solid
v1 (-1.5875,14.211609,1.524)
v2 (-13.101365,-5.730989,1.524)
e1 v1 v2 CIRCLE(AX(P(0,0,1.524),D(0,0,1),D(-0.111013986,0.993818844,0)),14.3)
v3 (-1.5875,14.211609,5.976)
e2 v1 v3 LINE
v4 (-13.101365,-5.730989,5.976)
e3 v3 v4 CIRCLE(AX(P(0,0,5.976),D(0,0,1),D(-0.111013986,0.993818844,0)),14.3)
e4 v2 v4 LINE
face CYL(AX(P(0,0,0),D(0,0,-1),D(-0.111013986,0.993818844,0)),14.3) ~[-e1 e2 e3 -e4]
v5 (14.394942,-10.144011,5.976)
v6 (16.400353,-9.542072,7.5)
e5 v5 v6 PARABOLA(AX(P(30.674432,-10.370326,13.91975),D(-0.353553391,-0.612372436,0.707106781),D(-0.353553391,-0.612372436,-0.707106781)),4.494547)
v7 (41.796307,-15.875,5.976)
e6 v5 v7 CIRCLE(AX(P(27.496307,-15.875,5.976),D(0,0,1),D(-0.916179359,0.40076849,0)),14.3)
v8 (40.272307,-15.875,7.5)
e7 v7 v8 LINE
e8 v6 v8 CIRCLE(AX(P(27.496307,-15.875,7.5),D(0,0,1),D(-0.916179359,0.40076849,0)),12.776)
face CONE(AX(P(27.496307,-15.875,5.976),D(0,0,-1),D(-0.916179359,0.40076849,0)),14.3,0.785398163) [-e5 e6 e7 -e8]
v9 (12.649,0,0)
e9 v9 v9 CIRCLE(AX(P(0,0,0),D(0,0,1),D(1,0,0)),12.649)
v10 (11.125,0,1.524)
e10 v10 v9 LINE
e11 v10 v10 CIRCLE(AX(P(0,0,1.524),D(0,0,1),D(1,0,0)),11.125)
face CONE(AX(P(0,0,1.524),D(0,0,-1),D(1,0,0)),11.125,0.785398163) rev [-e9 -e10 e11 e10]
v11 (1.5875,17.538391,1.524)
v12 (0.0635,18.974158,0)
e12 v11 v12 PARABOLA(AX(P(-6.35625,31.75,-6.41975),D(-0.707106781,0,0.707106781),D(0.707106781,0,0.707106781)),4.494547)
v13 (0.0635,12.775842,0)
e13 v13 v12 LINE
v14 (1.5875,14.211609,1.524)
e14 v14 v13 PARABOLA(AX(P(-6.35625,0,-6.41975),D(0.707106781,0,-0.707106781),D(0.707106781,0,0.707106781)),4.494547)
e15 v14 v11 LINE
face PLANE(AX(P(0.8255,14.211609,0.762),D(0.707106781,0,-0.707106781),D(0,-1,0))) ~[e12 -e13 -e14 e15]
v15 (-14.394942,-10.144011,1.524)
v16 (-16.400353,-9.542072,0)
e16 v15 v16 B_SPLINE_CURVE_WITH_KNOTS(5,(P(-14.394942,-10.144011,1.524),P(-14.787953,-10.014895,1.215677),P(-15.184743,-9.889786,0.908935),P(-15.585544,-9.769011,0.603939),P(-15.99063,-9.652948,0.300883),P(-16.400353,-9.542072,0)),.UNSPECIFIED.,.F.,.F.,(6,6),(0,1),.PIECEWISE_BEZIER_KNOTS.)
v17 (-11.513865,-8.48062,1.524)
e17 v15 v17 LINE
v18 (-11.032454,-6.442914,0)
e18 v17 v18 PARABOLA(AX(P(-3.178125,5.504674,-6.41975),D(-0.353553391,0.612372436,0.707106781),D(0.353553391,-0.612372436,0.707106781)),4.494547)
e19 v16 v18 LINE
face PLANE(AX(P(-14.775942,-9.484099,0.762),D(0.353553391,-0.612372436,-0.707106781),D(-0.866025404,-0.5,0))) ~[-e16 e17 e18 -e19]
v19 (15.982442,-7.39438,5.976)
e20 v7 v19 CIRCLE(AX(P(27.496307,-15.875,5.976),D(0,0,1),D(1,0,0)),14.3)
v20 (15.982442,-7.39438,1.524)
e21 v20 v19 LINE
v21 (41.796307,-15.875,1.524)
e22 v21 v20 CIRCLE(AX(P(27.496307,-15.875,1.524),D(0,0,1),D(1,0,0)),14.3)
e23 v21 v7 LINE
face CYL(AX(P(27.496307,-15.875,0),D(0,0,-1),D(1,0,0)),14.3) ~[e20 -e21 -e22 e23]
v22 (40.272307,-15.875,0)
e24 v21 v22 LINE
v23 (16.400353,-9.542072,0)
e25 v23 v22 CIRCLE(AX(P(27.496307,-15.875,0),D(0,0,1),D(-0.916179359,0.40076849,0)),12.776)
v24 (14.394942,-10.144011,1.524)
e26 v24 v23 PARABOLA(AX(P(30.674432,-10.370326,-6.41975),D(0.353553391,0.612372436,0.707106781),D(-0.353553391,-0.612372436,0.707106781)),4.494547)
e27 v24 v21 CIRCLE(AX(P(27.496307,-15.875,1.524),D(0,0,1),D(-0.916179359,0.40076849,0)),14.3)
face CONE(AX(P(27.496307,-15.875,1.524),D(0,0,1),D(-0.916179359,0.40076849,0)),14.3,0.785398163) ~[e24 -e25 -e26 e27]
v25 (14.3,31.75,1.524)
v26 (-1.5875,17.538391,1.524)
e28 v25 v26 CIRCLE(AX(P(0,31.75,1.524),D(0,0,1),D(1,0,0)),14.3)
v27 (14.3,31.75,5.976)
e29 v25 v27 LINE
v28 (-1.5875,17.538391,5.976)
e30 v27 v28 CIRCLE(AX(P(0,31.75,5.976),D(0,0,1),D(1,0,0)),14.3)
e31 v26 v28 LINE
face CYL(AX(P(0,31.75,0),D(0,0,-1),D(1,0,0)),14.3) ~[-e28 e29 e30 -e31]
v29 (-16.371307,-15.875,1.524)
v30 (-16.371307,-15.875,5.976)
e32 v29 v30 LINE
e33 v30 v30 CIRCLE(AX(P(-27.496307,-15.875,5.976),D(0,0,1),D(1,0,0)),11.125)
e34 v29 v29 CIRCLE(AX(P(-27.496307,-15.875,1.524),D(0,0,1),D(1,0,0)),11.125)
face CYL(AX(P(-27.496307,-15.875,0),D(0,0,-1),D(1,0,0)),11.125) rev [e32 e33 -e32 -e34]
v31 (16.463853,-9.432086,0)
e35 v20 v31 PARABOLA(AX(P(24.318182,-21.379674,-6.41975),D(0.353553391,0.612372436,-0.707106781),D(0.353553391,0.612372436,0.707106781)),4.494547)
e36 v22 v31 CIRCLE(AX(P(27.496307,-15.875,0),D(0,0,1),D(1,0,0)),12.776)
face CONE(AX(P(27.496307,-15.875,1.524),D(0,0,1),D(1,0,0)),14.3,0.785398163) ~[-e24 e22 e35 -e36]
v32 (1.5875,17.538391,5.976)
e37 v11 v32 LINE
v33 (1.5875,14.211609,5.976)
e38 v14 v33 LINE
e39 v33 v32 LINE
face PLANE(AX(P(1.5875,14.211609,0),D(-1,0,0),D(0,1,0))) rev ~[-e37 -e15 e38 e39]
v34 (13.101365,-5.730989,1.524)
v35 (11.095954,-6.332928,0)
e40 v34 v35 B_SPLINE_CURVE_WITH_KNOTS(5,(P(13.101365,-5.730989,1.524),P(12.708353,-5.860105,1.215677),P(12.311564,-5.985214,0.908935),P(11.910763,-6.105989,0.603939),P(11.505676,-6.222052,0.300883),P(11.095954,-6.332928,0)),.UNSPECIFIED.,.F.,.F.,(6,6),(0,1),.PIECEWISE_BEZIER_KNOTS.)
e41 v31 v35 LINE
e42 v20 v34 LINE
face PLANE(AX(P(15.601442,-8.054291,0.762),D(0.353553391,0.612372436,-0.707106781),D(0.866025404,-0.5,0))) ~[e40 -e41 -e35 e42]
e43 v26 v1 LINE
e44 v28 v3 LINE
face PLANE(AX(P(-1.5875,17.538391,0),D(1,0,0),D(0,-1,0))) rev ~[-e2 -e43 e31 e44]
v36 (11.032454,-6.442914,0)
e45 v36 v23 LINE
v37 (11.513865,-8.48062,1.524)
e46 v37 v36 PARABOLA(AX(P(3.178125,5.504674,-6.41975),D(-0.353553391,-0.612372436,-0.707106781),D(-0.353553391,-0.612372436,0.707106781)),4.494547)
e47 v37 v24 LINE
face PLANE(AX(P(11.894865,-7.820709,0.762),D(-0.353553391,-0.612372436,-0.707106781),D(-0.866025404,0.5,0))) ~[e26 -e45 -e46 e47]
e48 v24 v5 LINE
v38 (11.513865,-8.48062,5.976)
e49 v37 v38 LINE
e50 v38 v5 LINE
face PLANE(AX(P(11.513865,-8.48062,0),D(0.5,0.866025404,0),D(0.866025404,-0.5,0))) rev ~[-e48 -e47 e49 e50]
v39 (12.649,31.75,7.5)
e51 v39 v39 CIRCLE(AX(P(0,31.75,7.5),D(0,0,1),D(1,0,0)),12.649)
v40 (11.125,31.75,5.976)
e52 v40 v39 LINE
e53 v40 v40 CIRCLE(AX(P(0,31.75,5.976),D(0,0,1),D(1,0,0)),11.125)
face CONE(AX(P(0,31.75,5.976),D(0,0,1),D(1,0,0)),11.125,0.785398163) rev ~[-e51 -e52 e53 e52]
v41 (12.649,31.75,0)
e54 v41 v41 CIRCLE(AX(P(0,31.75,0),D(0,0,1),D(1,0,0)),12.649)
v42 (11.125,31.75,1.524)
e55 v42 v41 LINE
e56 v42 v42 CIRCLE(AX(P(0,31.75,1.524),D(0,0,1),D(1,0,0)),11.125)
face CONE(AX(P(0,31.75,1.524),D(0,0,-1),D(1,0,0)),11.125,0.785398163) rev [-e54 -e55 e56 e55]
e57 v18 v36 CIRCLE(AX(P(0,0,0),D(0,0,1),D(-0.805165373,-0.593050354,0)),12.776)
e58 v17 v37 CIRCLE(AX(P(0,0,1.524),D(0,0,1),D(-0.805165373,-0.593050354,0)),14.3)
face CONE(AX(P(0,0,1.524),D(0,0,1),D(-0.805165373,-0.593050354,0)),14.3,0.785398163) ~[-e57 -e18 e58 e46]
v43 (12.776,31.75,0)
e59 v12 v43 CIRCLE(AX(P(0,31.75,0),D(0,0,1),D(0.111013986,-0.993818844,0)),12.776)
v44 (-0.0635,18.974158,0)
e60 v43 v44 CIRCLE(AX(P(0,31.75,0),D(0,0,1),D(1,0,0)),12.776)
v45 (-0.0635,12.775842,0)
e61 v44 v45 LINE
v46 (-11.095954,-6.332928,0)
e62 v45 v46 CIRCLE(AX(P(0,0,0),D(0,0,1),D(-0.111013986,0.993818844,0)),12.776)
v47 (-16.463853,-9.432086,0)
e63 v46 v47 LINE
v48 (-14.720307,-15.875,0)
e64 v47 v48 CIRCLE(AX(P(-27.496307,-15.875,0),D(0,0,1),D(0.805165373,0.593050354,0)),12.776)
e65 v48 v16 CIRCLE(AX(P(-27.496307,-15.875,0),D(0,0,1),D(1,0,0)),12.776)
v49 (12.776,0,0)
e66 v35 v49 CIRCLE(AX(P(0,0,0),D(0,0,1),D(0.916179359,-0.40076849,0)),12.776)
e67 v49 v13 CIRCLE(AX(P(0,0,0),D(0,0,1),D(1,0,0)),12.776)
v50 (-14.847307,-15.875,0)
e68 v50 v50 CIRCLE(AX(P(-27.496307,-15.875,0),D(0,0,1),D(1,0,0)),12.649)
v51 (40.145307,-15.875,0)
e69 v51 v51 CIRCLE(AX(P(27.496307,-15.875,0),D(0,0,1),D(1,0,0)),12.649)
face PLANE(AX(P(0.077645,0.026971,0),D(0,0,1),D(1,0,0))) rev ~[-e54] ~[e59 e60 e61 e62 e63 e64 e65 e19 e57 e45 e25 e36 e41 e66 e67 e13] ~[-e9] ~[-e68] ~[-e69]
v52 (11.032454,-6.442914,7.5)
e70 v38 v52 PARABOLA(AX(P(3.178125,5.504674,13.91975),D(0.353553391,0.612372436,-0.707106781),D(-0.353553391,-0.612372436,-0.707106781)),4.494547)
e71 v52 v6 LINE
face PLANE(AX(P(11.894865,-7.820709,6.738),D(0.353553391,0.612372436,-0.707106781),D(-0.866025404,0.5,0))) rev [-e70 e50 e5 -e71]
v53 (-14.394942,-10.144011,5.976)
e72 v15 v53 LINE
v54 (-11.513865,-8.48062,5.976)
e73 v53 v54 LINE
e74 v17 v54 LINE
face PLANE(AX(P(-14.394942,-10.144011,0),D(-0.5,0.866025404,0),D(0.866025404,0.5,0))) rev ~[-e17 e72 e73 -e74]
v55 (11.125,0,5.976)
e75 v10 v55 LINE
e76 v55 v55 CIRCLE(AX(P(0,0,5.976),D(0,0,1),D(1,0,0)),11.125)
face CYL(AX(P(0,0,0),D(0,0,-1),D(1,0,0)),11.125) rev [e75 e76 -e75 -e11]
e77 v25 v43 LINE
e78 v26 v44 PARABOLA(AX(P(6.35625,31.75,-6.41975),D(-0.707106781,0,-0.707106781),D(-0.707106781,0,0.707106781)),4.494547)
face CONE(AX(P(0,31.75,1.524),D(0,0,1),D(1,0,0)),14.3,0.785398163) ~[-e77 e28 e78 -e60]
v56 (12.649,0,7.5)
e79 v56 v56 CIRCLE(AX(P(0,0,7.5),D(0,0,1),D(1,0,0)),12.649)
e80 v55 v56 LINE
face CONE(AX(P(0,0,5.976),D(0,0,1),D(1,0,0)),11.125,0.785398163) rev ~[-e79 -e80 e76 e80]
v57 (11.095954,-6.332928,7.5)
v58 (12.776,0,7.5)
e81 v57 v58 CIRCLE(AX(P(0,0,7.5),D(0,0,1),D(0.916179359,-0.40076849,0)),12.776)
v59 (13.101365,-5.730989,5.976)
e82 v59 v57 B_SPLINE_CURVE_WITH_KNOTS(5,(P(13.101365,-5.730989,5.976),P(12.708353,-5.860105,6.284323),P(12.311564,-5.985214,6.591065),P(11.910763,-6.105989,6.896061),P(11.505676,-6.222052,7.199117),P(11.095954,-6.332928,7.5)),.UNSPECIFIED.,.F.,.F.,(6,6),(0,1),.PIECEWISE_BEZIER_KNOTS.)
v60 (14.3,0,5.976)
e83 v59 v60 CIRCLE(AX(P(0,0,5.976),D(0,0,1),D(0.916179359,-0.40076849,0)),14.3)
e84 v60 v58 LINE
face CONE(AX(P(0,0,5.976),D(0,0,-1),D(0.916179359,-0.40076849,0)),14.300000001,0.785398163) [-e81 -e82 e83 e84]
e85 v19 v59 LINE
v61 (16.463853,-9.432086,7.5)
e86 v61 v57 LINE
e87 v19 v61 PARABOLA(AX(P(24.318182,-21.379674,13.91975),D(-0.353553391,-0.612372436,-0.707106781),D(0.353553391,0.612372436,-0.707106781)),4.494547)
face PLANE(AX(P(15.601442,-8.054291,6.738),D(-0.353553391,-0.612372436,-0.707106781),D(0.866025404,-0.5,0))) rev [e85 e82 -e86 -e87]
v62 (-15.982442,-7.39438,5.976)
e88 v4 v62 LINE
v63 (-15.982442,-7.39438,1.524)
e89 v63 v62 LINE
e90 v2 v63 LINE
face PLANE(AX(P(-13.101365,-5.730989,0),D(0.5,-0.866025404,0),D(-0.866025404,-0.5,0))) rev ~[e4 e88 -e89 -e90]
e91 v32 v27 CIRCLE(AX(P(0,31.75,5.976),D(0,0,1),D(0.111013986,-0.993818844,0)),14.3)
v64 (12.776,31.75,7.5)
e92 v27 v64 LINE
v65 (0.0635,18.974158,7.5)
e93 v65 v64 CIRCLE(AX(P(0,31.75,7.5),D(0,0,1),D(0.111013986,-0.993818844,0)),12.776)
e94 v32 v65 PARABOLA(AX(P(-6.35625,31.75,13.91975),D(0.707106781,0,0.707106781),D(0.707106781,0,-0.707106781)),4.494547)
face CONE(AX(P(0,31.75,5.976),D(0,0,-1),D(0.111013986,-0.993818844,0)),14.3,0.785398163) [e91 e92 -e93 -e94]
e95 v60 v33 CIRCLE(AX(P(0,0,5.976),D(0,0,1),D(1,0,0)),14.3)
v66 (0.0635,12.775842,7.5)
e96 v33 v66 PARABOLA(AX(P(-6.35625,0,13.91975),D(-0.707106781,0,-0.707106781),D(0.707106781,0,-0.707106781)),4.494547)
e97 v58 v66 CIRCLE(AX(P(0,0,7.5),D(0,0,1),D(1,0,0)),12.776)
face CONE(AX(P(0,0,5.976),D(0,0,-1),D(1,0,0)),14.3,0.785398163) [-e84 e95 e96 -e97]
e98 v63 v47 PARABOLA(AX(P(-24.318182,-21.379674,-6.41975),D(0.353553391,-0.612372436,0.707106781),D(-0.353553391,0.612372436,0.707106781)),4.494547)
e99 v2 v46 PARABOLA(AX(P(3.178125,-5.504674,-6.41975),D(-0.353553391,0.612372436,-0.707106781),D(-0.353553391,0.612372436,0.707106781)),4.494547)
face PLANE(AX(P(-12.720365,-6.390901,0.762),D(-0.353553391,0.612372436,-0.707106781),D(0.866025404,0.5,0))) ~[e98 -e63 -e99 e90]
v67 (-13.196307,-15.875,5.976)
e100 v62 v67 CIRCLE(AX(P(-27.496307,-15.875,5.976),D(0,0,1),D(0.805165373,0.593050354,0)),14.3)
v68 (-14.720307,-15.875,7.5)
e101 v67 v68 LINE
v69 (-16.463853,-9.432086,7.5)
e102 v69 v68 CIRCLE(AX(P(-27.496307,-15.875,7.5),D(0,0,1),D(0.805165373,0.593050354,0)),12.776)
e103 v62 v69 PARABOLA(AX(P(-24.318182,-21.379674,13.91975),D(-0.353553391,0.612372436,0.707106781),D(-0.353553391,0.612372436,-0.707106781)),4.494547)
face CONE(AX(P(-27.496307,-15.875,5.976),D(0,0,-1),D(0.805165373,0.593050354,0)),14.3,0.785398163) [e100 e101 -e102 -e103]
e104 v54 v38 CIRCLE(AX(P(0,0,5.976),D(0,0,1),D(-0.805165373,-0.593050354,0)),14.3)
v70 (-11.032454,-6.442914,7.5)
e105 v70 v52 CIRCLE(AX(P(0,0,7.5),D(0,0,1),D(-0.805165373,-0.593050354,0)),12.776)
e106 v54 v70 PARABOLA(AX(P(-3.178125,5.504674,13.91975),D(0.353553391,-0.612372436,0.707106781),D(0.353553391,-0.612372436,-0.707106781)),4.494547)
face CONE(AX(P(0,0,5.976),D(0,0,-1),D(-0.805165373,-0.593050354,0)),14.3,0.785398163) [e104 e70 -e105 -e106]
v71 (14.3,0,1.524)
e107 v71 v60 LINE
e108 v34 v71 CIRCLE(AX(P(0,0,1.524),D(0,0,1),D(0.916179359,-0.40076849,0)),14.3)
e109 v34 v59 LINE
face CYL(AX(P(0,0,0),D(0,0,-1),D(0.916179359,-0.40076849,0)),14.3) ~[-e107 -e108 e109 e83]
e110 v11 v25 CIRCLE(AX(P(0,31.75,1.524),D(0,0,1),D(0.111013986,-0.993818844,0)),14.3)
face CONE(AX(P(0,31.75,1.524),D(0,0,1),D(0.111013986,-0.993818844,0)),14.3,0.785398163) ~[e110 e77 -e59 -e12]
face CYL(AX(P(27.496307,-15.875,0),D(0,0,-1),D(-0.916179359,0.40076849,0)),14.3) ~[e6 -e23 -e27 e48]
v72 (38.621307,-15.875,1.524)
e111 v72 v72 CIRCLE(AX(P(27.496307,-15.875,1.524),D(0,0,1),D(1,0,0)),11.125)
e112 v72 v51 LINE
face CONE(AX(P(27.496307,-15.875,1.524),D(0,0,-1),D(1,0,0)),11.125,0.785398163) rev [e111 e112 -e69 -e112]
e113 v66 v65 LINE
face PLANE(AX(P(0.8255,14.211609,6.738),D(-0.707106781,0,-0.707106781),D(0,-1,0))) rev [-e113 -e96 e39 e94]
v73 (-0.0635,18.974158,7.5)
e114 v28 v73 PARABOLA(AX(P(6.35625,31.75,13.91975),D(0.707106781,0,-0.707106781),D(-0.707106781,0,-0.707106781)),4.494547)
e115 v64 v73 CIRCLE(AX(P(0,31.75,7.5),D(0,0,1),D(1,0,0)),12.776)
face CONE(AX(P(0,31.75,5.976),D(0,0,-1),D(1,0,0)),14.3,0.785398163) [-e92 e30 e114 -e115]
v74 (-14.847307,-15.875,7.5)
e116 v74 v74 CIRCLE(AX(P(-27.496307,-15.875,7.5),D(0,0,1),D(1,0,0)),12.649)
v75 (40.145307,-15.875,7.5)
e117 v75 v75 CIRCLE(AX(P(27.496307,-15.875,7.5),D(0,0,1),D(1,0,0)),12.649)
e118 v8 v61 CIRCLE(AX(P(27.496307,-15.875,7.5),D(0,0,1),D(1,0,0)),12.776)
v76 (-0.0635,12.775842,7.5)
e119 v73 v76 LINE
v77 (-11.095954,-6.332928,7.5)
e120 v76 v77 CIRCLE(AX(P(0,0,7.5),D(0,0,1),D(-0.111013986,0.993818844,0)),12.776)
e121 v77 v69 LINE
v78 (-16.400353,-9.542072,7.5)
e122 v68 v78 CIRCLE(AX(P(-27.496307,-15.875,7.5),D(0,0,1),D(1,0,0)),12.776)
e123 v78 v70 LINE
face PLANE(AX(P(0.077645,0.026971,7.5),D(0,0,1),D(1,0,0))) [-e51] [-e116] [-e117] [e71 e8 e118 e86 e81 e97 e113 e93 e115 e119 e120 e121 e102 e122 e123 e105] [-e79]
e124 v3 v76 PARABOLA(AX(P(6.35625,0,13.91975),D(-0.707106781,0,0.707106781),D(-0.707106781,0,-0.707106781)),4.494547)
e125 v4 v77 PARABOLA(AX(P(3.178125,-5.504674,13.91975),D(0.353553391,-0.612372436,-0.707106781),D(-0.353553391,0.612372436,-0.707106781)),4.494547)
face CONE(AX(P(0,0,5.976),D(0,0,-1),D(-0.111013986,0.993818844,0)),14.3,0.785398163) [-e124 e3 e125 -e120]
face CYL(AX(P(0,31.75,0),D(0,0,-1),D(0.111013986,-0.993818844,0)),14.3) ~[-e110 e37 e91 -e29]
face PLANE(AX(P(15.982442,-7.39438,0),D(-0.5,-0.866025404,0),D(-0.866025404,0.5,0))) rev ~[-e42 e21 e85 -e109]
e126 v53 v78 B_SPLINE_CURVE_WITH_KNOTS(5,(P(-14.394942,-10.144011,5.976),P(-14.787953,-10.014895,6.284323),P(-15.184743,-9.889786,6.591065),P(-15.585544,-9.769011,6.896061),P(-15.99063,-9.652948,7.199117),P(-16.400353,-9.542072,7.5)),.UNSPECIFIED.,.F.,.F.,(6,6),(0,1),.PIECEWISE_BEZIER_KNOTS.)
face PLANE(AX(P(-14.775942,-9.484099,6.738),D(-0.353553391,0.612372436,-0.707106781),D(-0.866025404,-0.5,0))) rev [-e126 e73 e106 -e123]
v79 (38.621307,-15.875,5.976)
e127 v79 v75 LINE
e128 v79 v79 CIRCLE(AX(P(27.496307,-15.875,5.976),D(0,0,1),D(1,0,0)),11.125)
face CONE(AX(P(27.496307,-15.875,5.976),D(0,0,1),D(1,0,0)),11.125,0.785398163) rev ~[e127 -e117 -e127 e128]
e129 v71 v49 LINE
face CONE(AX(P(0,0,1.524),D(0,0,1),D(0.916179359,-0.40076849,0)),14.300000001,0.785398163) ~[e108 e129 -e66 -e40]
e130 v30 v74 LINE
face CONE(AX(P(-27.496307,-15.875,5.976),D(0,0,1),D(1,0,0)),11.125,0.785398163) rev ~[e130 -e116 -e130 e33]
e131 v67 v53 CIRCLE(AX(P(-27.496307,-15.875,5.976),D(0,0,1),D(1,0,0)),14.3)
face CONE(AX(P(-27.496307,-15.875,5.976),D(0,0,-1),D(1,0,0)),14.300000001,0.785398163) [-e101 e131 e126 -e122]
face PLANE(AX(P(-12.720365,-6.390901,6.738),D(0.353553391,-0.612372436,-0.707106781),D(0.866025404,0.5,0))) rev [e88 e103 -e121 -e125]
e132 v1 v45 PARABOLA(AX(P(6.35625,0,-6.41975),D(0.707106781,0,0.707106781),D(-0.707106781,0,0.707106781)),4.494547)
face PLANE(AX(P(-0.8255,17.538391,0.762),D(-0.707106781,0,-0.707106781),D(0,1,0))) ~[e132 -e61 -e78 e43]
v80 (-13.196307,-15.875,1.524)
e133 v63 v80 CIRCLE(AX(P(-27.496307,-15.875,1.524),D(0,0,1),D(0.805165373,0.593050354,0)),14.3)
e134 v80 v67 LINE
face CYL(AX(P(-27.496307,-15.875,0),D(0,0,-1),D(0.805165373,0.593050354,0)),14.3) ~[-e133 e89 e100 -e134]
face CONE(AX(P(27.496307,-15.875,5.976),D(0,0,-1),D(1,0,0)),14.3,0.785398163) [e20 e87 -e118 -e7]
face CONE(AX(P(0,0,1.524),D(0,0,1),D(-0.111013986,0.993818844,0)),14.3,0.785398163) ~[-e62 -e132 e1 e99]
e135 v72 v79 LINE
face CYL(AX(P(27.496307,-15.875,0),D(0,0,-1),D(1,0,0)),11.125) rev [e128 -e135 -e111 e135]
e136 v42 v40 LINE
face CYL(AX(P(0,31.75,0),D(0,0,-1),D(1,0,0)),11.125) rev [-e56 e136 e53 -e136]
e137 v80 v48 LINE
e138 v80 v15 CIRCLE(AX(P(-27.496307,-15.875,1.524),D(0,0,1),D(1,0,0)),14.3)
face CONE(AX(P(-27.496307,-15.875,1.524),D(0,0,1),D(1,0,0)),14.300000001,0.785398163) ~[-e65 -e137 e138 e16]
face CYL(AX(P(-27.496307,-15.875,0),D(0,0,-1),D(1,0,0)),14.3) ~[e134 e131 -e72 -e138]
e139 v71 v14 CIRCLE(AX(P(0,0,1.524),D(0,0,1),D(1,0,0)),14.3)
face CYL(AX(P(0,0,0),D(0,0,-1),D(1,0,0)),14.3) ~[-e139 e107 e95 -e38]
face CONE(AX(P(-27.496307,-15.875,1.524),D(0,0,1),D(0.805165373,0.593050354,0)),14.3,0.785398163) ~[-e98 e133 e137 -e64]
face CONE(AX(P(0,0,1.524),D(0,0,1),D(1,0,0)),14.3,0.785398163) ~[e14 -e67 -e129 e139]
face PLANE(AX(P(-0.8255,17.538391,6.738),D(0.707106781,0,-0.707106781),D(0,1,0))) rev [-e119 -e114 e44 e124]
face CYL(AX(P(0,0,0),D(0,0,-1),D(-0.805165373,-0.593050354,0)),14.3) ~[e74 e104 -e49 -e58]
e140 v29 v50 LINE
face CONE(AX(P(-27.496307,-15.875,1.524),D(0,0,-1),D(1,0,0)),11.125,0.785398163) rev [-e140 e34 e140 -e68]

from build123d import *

# Parameters (mm, degrees)
F0_R     = 11.125
F1_DEPTH = 7.5
F2_SIZE  = 1.524


with BuildPart() as f1:
    # F0 (on Top) → F1 (new body)
    with BuildSketch(Plane.XY):
        with BuildLine():
            ThreePointArc((13.1013648304, -5.7309894069), (13.9971339401, -2.9274974745), (14.3, 0))
            ThreePointArc((14.3, 0), (10.6581248351, 9.5338541524), (1.5875, 14.2116094708))
            Line((1.5875, 14.2116094708), (1.5875, 12.7125))
            Line((1.5875, 12.7125), (-1.5875, 12.7125))
            Line((-1.5875, 12.7125), (-1.5875, 14.2116094708))
            ThreePointArc((-1.5875, 14.2116094708), (-12.3841632741, 7.15), (-13.1013648304, -5.7309894069))
            Line((-13.1013648304, -5.7309894069), (-11.8030979456, -4.9814346715))
            Line((-11.8030979456, -4.9814346715), (-10.2155979456, -7.7310653285))
            Line((-10.2155979456, -7.7310653285), (-11.5138648304, -8.4806200639))
            ThreePointArc((-11.5138648304, -8.4806200639), (0, -14.3), (11.5138648304, -8.4806200639))
            Line((11.5138648304, -8.4806200639), (10.2155979456, -7.7310653285))
            Line((10.2155979456, -7.7310653285), (11.8030979456, -4.9814346715))
            Line((11.8030979456, -4.9814346715), (13.1013648304, -5.7309894069))
        make_face()
        Circle(F0_R, mode=Mode.SUBTRACT)
        with BuildLine():
            Line((1.5875, 12.7125), (1.5875, 14.2116094708))
            ThreePointArc((1.5875, 14.2116094708), (0, 14.3), (-1.5875, 14.2116094708))
            Line((-1.5875, 14.2116094708), (-1.5875, 12.7125))
            Line((-1.5875, 12.7125), (1.5875, 12.7125))
        make_face()
        with BuildLine():
            ThreePointArc((-1.5875, 14.2116094708), (0, 14.3), (1.5875, 14.2116094708))
            Line((1.5875, 14.2116094708), (1.5875, 17.5383905292))
            ThreePointArc((1.5875, 17.5383905292), (0, 17.45), (-1.5875, 17.5383905292))
            Line((-1.5875, 17.5383905292), (-1.5875, 14.2116094708))
        make_face()
        with BuildLine():
            Line((15.9824417398, -7.3943799361), (13.1013648304, -5.7309894069))
            ThreePointArc((13.1013648304, -5.7309894069), (12.3841632741, -7.15), (11.5138648304, -8.4806200639))
            Line((11.5138648304, -8.4806200639), (14.3949417398, -10.1440105931))
            ThreePointArc((14.3949417398, -10.1440105931), (15.112143296, -8.725), (15.9824417398, -7.3943799361))
        make_face()
        with BuildLine():
            ThreePointArc((11.5138648304, -8.4806200639), (12.3841632741, -7.15), (13.1013648304, -5.7309894069))
            Line((13.1013648304, -5.7309894069), (11.8030979456, -4.9814346715))
            Line((11.8030979456, -4.9814346715), (10.2155979456, -7.7310653285))
            Line((10.2155979456, -7.7310653285), (11.5138648304, -8.4806200639))
        make_face()
        with BuildLine():
            Line((1.5875, 19.0375), (1.5875, 17.5383905292))
            ThreePointArc((1.5875, 17.5383905292), (10.6581248351, 22.2161458476), (14.3, 31.75))
            ThreePointArc((14.3, 31.75), (-9.5338541524, 42.4081248351), (-1.5875, 17.5383905292))
            Line((-1.5875, 17.5383905292), (-1.5875, 19.0375))
            Line((-1.5875, 19.0375), (1.5875, 19.0375))
        make_face()
        with Locations((0, 31.75)):
            Circle(F0_R, mode=Mode.SUBTRACT)
        with BuildLine():
            ThreePointArc((-1.5875, 17.5383905292), (0, 17.45), (1.5875, 17.5383905292))
            Line((1.5875, 17.5383905292), (1.5875, 19.0375))
            Line((1.5875, 19.0375), (-1.5875, 19.0375))
            Line((-1.5875, 19.0375), (-1.5875, 17.5383905292))
        make_face()
        with BuildLine():
            Line((17.2807086245, -8.1439346715), (15.9824417398, -7.3943799361))
            ThreePointArc((15.9824417398, -7.3943799361), (15.112143296, -8.725), (14.3949417398, -10.1440105931))
            Line((14.3949417398, -10.1440105931), (15.6932086245, -10.8935653285))
            Line((15.6932086245, -10.8935653285), (17.2807086245, -8.1439346715))
        make_face()
        with BuildLine():
            ThreePointArc((41.7963065702, -15.875), (31.9595863578, -2.2893776905), (15.9824417398, -7.3943799361))
            Line((15.9824417398, -7.3943799361), (17.2807086245, -8.1439346715))
            Line((17.2807086245, -8.1439346715), (15.6932086245, -10.8935653285))
            Line((15.6932086245, -10.8935653285), (14.3949417398, -10.1440105931))
            ThreePointArc((14.3949417398, -10.1440105931), (24.5688090957, -29.8721339401), (41.7963065702, -15.875))
        make_face()
        with Locations((27.4963065702, -15.875)):
            Circle(F0_R, mode=Mode.SUBTRACT)
        with BuildLine():
            Line((-11.8030979456, -4.9814346715), (-13.1013648304, -5.7309894069))
            ThreePointArc((-13.1013648304, -5.7309894069), (-12.3841632741, -7.15), (-11.5138648304, -8.4806200639))
            Line((-11.5138648304, -8.4806200639), (-10.2155979456, -7.7310653285))
            Line((-10.2155979456, -7.7310653285), (-11.8030979456, -4.9814346715))
        make_face()
        with BuildLine():
            ThreePointArc((-11.5138648304, -8.4806200639), (-12.3841632741, -7.15), (-13.1013648304, -5.7309894069))
            Line((-13.1013648304, -5.7309894069), (-15.9824417398, -7.3943799361))
            ThreePointArc((-15.9824417398, -7.3943799361), (-15.112143296, -8.725), (-14.3949417398, -10.1440105931))
            Line((-14.3949417398, -10.1440105931), (-11.5138648304, -8.4806200639))
        make_face()
        with BuildLine():
            Line((-17.2807086245, -8.1439346715), (-15.9824417398, -7.3943799361))
            ThreePointArc((-15.9824417398, -7.3943799361), (-41.0819288797, -20.3382797877), (-13.1963065702, -15.875))
            ThreePointArc((-13.1963065702, -15.875), (-13.4991726301, -12.9475025255), (-14.3949417398, -10.1440105931))
            Line((-14.3949417398, -10.1440105931), (-15.6932086245, -10.8935653285))
            Line((-15.6932086245, -10.8935653285), (-17.2807086245, -8.1439346715))
        make_face()
        with Locations((-27.4963065702, -15.875)):
            Circle(F0_R, mode=Mode.SUBTRACT)
        with BuildLine():
            ThreePointArc((-14.3949417398, -10.1440105931), (-15.112143296, -8.725), (-15.9824417398, -7.3943799361))
            Line((-15.9824417398, -7.3943799361), (-17.2807086245, -8.1439346715))
            Line((-17.2807086245, -8.1439346715), (-15.6932086245, -10.8935653285))
            Line((-15.6932086245, -10.8935653285), (-14.3949417398, -10.1440105931))
        make_face()
    extrude(amount=F1_DEPTH)

    # F2
    f2_edges = [f1.edges().sort_by_distance(p)[0] for p in [
        (12.384163, 7.15, 7.5),
        (1.5875, 15.875, 7.5),
        (0, 46.05, 7.5),
        (-1.5875, 15.875, 7.5),
        (-12.384163, 7.15, 7.5),
        (-14.541903, -6.562685, 7.5),
        (-39.88047, -23.025, 7.5),
        (-12.954403, -9.312315, 7.5),
        (0, -14.3, 7.5),
        (12.954403, -9.312315, 7.5),
        (39.88047, -23.025, 7.5),
        (14.541903, -6.562685, 7.5),
        (-11.125, 0, 7.5),
        (-11.125, 31.75, 7.5),
        (16.371307, -15.875, 7.5),
        (-38.621307, -15.875, 7.5),
        (12.384163, 7.15, 0),
        (1.5875, 15.875, 0),
        (0, 46.05, 0),
        (-1.5875, 15.875, 0),
        (-12.384163, 7.15, 0),
        (-14.541903, -6.562685, 0),
        (-39.88047, -23.025, 0),
        (-12.954403, -9.312315, 0),
        (0, -14.3, 0),
        (12.954403, -9.312315, 0),
        (39.88047, -23.025, 0),
        (14.541903, -6.562685, 0),
        (-11.125, 0, 0),
        (-11.125, 31.75, 0),
        (16.371307, -15.875, 0),
        (-38.621307, -15.875, 0),
    ]]
    chamfer(f2_edges, length=F2_SIZE)


solid = f1.part
